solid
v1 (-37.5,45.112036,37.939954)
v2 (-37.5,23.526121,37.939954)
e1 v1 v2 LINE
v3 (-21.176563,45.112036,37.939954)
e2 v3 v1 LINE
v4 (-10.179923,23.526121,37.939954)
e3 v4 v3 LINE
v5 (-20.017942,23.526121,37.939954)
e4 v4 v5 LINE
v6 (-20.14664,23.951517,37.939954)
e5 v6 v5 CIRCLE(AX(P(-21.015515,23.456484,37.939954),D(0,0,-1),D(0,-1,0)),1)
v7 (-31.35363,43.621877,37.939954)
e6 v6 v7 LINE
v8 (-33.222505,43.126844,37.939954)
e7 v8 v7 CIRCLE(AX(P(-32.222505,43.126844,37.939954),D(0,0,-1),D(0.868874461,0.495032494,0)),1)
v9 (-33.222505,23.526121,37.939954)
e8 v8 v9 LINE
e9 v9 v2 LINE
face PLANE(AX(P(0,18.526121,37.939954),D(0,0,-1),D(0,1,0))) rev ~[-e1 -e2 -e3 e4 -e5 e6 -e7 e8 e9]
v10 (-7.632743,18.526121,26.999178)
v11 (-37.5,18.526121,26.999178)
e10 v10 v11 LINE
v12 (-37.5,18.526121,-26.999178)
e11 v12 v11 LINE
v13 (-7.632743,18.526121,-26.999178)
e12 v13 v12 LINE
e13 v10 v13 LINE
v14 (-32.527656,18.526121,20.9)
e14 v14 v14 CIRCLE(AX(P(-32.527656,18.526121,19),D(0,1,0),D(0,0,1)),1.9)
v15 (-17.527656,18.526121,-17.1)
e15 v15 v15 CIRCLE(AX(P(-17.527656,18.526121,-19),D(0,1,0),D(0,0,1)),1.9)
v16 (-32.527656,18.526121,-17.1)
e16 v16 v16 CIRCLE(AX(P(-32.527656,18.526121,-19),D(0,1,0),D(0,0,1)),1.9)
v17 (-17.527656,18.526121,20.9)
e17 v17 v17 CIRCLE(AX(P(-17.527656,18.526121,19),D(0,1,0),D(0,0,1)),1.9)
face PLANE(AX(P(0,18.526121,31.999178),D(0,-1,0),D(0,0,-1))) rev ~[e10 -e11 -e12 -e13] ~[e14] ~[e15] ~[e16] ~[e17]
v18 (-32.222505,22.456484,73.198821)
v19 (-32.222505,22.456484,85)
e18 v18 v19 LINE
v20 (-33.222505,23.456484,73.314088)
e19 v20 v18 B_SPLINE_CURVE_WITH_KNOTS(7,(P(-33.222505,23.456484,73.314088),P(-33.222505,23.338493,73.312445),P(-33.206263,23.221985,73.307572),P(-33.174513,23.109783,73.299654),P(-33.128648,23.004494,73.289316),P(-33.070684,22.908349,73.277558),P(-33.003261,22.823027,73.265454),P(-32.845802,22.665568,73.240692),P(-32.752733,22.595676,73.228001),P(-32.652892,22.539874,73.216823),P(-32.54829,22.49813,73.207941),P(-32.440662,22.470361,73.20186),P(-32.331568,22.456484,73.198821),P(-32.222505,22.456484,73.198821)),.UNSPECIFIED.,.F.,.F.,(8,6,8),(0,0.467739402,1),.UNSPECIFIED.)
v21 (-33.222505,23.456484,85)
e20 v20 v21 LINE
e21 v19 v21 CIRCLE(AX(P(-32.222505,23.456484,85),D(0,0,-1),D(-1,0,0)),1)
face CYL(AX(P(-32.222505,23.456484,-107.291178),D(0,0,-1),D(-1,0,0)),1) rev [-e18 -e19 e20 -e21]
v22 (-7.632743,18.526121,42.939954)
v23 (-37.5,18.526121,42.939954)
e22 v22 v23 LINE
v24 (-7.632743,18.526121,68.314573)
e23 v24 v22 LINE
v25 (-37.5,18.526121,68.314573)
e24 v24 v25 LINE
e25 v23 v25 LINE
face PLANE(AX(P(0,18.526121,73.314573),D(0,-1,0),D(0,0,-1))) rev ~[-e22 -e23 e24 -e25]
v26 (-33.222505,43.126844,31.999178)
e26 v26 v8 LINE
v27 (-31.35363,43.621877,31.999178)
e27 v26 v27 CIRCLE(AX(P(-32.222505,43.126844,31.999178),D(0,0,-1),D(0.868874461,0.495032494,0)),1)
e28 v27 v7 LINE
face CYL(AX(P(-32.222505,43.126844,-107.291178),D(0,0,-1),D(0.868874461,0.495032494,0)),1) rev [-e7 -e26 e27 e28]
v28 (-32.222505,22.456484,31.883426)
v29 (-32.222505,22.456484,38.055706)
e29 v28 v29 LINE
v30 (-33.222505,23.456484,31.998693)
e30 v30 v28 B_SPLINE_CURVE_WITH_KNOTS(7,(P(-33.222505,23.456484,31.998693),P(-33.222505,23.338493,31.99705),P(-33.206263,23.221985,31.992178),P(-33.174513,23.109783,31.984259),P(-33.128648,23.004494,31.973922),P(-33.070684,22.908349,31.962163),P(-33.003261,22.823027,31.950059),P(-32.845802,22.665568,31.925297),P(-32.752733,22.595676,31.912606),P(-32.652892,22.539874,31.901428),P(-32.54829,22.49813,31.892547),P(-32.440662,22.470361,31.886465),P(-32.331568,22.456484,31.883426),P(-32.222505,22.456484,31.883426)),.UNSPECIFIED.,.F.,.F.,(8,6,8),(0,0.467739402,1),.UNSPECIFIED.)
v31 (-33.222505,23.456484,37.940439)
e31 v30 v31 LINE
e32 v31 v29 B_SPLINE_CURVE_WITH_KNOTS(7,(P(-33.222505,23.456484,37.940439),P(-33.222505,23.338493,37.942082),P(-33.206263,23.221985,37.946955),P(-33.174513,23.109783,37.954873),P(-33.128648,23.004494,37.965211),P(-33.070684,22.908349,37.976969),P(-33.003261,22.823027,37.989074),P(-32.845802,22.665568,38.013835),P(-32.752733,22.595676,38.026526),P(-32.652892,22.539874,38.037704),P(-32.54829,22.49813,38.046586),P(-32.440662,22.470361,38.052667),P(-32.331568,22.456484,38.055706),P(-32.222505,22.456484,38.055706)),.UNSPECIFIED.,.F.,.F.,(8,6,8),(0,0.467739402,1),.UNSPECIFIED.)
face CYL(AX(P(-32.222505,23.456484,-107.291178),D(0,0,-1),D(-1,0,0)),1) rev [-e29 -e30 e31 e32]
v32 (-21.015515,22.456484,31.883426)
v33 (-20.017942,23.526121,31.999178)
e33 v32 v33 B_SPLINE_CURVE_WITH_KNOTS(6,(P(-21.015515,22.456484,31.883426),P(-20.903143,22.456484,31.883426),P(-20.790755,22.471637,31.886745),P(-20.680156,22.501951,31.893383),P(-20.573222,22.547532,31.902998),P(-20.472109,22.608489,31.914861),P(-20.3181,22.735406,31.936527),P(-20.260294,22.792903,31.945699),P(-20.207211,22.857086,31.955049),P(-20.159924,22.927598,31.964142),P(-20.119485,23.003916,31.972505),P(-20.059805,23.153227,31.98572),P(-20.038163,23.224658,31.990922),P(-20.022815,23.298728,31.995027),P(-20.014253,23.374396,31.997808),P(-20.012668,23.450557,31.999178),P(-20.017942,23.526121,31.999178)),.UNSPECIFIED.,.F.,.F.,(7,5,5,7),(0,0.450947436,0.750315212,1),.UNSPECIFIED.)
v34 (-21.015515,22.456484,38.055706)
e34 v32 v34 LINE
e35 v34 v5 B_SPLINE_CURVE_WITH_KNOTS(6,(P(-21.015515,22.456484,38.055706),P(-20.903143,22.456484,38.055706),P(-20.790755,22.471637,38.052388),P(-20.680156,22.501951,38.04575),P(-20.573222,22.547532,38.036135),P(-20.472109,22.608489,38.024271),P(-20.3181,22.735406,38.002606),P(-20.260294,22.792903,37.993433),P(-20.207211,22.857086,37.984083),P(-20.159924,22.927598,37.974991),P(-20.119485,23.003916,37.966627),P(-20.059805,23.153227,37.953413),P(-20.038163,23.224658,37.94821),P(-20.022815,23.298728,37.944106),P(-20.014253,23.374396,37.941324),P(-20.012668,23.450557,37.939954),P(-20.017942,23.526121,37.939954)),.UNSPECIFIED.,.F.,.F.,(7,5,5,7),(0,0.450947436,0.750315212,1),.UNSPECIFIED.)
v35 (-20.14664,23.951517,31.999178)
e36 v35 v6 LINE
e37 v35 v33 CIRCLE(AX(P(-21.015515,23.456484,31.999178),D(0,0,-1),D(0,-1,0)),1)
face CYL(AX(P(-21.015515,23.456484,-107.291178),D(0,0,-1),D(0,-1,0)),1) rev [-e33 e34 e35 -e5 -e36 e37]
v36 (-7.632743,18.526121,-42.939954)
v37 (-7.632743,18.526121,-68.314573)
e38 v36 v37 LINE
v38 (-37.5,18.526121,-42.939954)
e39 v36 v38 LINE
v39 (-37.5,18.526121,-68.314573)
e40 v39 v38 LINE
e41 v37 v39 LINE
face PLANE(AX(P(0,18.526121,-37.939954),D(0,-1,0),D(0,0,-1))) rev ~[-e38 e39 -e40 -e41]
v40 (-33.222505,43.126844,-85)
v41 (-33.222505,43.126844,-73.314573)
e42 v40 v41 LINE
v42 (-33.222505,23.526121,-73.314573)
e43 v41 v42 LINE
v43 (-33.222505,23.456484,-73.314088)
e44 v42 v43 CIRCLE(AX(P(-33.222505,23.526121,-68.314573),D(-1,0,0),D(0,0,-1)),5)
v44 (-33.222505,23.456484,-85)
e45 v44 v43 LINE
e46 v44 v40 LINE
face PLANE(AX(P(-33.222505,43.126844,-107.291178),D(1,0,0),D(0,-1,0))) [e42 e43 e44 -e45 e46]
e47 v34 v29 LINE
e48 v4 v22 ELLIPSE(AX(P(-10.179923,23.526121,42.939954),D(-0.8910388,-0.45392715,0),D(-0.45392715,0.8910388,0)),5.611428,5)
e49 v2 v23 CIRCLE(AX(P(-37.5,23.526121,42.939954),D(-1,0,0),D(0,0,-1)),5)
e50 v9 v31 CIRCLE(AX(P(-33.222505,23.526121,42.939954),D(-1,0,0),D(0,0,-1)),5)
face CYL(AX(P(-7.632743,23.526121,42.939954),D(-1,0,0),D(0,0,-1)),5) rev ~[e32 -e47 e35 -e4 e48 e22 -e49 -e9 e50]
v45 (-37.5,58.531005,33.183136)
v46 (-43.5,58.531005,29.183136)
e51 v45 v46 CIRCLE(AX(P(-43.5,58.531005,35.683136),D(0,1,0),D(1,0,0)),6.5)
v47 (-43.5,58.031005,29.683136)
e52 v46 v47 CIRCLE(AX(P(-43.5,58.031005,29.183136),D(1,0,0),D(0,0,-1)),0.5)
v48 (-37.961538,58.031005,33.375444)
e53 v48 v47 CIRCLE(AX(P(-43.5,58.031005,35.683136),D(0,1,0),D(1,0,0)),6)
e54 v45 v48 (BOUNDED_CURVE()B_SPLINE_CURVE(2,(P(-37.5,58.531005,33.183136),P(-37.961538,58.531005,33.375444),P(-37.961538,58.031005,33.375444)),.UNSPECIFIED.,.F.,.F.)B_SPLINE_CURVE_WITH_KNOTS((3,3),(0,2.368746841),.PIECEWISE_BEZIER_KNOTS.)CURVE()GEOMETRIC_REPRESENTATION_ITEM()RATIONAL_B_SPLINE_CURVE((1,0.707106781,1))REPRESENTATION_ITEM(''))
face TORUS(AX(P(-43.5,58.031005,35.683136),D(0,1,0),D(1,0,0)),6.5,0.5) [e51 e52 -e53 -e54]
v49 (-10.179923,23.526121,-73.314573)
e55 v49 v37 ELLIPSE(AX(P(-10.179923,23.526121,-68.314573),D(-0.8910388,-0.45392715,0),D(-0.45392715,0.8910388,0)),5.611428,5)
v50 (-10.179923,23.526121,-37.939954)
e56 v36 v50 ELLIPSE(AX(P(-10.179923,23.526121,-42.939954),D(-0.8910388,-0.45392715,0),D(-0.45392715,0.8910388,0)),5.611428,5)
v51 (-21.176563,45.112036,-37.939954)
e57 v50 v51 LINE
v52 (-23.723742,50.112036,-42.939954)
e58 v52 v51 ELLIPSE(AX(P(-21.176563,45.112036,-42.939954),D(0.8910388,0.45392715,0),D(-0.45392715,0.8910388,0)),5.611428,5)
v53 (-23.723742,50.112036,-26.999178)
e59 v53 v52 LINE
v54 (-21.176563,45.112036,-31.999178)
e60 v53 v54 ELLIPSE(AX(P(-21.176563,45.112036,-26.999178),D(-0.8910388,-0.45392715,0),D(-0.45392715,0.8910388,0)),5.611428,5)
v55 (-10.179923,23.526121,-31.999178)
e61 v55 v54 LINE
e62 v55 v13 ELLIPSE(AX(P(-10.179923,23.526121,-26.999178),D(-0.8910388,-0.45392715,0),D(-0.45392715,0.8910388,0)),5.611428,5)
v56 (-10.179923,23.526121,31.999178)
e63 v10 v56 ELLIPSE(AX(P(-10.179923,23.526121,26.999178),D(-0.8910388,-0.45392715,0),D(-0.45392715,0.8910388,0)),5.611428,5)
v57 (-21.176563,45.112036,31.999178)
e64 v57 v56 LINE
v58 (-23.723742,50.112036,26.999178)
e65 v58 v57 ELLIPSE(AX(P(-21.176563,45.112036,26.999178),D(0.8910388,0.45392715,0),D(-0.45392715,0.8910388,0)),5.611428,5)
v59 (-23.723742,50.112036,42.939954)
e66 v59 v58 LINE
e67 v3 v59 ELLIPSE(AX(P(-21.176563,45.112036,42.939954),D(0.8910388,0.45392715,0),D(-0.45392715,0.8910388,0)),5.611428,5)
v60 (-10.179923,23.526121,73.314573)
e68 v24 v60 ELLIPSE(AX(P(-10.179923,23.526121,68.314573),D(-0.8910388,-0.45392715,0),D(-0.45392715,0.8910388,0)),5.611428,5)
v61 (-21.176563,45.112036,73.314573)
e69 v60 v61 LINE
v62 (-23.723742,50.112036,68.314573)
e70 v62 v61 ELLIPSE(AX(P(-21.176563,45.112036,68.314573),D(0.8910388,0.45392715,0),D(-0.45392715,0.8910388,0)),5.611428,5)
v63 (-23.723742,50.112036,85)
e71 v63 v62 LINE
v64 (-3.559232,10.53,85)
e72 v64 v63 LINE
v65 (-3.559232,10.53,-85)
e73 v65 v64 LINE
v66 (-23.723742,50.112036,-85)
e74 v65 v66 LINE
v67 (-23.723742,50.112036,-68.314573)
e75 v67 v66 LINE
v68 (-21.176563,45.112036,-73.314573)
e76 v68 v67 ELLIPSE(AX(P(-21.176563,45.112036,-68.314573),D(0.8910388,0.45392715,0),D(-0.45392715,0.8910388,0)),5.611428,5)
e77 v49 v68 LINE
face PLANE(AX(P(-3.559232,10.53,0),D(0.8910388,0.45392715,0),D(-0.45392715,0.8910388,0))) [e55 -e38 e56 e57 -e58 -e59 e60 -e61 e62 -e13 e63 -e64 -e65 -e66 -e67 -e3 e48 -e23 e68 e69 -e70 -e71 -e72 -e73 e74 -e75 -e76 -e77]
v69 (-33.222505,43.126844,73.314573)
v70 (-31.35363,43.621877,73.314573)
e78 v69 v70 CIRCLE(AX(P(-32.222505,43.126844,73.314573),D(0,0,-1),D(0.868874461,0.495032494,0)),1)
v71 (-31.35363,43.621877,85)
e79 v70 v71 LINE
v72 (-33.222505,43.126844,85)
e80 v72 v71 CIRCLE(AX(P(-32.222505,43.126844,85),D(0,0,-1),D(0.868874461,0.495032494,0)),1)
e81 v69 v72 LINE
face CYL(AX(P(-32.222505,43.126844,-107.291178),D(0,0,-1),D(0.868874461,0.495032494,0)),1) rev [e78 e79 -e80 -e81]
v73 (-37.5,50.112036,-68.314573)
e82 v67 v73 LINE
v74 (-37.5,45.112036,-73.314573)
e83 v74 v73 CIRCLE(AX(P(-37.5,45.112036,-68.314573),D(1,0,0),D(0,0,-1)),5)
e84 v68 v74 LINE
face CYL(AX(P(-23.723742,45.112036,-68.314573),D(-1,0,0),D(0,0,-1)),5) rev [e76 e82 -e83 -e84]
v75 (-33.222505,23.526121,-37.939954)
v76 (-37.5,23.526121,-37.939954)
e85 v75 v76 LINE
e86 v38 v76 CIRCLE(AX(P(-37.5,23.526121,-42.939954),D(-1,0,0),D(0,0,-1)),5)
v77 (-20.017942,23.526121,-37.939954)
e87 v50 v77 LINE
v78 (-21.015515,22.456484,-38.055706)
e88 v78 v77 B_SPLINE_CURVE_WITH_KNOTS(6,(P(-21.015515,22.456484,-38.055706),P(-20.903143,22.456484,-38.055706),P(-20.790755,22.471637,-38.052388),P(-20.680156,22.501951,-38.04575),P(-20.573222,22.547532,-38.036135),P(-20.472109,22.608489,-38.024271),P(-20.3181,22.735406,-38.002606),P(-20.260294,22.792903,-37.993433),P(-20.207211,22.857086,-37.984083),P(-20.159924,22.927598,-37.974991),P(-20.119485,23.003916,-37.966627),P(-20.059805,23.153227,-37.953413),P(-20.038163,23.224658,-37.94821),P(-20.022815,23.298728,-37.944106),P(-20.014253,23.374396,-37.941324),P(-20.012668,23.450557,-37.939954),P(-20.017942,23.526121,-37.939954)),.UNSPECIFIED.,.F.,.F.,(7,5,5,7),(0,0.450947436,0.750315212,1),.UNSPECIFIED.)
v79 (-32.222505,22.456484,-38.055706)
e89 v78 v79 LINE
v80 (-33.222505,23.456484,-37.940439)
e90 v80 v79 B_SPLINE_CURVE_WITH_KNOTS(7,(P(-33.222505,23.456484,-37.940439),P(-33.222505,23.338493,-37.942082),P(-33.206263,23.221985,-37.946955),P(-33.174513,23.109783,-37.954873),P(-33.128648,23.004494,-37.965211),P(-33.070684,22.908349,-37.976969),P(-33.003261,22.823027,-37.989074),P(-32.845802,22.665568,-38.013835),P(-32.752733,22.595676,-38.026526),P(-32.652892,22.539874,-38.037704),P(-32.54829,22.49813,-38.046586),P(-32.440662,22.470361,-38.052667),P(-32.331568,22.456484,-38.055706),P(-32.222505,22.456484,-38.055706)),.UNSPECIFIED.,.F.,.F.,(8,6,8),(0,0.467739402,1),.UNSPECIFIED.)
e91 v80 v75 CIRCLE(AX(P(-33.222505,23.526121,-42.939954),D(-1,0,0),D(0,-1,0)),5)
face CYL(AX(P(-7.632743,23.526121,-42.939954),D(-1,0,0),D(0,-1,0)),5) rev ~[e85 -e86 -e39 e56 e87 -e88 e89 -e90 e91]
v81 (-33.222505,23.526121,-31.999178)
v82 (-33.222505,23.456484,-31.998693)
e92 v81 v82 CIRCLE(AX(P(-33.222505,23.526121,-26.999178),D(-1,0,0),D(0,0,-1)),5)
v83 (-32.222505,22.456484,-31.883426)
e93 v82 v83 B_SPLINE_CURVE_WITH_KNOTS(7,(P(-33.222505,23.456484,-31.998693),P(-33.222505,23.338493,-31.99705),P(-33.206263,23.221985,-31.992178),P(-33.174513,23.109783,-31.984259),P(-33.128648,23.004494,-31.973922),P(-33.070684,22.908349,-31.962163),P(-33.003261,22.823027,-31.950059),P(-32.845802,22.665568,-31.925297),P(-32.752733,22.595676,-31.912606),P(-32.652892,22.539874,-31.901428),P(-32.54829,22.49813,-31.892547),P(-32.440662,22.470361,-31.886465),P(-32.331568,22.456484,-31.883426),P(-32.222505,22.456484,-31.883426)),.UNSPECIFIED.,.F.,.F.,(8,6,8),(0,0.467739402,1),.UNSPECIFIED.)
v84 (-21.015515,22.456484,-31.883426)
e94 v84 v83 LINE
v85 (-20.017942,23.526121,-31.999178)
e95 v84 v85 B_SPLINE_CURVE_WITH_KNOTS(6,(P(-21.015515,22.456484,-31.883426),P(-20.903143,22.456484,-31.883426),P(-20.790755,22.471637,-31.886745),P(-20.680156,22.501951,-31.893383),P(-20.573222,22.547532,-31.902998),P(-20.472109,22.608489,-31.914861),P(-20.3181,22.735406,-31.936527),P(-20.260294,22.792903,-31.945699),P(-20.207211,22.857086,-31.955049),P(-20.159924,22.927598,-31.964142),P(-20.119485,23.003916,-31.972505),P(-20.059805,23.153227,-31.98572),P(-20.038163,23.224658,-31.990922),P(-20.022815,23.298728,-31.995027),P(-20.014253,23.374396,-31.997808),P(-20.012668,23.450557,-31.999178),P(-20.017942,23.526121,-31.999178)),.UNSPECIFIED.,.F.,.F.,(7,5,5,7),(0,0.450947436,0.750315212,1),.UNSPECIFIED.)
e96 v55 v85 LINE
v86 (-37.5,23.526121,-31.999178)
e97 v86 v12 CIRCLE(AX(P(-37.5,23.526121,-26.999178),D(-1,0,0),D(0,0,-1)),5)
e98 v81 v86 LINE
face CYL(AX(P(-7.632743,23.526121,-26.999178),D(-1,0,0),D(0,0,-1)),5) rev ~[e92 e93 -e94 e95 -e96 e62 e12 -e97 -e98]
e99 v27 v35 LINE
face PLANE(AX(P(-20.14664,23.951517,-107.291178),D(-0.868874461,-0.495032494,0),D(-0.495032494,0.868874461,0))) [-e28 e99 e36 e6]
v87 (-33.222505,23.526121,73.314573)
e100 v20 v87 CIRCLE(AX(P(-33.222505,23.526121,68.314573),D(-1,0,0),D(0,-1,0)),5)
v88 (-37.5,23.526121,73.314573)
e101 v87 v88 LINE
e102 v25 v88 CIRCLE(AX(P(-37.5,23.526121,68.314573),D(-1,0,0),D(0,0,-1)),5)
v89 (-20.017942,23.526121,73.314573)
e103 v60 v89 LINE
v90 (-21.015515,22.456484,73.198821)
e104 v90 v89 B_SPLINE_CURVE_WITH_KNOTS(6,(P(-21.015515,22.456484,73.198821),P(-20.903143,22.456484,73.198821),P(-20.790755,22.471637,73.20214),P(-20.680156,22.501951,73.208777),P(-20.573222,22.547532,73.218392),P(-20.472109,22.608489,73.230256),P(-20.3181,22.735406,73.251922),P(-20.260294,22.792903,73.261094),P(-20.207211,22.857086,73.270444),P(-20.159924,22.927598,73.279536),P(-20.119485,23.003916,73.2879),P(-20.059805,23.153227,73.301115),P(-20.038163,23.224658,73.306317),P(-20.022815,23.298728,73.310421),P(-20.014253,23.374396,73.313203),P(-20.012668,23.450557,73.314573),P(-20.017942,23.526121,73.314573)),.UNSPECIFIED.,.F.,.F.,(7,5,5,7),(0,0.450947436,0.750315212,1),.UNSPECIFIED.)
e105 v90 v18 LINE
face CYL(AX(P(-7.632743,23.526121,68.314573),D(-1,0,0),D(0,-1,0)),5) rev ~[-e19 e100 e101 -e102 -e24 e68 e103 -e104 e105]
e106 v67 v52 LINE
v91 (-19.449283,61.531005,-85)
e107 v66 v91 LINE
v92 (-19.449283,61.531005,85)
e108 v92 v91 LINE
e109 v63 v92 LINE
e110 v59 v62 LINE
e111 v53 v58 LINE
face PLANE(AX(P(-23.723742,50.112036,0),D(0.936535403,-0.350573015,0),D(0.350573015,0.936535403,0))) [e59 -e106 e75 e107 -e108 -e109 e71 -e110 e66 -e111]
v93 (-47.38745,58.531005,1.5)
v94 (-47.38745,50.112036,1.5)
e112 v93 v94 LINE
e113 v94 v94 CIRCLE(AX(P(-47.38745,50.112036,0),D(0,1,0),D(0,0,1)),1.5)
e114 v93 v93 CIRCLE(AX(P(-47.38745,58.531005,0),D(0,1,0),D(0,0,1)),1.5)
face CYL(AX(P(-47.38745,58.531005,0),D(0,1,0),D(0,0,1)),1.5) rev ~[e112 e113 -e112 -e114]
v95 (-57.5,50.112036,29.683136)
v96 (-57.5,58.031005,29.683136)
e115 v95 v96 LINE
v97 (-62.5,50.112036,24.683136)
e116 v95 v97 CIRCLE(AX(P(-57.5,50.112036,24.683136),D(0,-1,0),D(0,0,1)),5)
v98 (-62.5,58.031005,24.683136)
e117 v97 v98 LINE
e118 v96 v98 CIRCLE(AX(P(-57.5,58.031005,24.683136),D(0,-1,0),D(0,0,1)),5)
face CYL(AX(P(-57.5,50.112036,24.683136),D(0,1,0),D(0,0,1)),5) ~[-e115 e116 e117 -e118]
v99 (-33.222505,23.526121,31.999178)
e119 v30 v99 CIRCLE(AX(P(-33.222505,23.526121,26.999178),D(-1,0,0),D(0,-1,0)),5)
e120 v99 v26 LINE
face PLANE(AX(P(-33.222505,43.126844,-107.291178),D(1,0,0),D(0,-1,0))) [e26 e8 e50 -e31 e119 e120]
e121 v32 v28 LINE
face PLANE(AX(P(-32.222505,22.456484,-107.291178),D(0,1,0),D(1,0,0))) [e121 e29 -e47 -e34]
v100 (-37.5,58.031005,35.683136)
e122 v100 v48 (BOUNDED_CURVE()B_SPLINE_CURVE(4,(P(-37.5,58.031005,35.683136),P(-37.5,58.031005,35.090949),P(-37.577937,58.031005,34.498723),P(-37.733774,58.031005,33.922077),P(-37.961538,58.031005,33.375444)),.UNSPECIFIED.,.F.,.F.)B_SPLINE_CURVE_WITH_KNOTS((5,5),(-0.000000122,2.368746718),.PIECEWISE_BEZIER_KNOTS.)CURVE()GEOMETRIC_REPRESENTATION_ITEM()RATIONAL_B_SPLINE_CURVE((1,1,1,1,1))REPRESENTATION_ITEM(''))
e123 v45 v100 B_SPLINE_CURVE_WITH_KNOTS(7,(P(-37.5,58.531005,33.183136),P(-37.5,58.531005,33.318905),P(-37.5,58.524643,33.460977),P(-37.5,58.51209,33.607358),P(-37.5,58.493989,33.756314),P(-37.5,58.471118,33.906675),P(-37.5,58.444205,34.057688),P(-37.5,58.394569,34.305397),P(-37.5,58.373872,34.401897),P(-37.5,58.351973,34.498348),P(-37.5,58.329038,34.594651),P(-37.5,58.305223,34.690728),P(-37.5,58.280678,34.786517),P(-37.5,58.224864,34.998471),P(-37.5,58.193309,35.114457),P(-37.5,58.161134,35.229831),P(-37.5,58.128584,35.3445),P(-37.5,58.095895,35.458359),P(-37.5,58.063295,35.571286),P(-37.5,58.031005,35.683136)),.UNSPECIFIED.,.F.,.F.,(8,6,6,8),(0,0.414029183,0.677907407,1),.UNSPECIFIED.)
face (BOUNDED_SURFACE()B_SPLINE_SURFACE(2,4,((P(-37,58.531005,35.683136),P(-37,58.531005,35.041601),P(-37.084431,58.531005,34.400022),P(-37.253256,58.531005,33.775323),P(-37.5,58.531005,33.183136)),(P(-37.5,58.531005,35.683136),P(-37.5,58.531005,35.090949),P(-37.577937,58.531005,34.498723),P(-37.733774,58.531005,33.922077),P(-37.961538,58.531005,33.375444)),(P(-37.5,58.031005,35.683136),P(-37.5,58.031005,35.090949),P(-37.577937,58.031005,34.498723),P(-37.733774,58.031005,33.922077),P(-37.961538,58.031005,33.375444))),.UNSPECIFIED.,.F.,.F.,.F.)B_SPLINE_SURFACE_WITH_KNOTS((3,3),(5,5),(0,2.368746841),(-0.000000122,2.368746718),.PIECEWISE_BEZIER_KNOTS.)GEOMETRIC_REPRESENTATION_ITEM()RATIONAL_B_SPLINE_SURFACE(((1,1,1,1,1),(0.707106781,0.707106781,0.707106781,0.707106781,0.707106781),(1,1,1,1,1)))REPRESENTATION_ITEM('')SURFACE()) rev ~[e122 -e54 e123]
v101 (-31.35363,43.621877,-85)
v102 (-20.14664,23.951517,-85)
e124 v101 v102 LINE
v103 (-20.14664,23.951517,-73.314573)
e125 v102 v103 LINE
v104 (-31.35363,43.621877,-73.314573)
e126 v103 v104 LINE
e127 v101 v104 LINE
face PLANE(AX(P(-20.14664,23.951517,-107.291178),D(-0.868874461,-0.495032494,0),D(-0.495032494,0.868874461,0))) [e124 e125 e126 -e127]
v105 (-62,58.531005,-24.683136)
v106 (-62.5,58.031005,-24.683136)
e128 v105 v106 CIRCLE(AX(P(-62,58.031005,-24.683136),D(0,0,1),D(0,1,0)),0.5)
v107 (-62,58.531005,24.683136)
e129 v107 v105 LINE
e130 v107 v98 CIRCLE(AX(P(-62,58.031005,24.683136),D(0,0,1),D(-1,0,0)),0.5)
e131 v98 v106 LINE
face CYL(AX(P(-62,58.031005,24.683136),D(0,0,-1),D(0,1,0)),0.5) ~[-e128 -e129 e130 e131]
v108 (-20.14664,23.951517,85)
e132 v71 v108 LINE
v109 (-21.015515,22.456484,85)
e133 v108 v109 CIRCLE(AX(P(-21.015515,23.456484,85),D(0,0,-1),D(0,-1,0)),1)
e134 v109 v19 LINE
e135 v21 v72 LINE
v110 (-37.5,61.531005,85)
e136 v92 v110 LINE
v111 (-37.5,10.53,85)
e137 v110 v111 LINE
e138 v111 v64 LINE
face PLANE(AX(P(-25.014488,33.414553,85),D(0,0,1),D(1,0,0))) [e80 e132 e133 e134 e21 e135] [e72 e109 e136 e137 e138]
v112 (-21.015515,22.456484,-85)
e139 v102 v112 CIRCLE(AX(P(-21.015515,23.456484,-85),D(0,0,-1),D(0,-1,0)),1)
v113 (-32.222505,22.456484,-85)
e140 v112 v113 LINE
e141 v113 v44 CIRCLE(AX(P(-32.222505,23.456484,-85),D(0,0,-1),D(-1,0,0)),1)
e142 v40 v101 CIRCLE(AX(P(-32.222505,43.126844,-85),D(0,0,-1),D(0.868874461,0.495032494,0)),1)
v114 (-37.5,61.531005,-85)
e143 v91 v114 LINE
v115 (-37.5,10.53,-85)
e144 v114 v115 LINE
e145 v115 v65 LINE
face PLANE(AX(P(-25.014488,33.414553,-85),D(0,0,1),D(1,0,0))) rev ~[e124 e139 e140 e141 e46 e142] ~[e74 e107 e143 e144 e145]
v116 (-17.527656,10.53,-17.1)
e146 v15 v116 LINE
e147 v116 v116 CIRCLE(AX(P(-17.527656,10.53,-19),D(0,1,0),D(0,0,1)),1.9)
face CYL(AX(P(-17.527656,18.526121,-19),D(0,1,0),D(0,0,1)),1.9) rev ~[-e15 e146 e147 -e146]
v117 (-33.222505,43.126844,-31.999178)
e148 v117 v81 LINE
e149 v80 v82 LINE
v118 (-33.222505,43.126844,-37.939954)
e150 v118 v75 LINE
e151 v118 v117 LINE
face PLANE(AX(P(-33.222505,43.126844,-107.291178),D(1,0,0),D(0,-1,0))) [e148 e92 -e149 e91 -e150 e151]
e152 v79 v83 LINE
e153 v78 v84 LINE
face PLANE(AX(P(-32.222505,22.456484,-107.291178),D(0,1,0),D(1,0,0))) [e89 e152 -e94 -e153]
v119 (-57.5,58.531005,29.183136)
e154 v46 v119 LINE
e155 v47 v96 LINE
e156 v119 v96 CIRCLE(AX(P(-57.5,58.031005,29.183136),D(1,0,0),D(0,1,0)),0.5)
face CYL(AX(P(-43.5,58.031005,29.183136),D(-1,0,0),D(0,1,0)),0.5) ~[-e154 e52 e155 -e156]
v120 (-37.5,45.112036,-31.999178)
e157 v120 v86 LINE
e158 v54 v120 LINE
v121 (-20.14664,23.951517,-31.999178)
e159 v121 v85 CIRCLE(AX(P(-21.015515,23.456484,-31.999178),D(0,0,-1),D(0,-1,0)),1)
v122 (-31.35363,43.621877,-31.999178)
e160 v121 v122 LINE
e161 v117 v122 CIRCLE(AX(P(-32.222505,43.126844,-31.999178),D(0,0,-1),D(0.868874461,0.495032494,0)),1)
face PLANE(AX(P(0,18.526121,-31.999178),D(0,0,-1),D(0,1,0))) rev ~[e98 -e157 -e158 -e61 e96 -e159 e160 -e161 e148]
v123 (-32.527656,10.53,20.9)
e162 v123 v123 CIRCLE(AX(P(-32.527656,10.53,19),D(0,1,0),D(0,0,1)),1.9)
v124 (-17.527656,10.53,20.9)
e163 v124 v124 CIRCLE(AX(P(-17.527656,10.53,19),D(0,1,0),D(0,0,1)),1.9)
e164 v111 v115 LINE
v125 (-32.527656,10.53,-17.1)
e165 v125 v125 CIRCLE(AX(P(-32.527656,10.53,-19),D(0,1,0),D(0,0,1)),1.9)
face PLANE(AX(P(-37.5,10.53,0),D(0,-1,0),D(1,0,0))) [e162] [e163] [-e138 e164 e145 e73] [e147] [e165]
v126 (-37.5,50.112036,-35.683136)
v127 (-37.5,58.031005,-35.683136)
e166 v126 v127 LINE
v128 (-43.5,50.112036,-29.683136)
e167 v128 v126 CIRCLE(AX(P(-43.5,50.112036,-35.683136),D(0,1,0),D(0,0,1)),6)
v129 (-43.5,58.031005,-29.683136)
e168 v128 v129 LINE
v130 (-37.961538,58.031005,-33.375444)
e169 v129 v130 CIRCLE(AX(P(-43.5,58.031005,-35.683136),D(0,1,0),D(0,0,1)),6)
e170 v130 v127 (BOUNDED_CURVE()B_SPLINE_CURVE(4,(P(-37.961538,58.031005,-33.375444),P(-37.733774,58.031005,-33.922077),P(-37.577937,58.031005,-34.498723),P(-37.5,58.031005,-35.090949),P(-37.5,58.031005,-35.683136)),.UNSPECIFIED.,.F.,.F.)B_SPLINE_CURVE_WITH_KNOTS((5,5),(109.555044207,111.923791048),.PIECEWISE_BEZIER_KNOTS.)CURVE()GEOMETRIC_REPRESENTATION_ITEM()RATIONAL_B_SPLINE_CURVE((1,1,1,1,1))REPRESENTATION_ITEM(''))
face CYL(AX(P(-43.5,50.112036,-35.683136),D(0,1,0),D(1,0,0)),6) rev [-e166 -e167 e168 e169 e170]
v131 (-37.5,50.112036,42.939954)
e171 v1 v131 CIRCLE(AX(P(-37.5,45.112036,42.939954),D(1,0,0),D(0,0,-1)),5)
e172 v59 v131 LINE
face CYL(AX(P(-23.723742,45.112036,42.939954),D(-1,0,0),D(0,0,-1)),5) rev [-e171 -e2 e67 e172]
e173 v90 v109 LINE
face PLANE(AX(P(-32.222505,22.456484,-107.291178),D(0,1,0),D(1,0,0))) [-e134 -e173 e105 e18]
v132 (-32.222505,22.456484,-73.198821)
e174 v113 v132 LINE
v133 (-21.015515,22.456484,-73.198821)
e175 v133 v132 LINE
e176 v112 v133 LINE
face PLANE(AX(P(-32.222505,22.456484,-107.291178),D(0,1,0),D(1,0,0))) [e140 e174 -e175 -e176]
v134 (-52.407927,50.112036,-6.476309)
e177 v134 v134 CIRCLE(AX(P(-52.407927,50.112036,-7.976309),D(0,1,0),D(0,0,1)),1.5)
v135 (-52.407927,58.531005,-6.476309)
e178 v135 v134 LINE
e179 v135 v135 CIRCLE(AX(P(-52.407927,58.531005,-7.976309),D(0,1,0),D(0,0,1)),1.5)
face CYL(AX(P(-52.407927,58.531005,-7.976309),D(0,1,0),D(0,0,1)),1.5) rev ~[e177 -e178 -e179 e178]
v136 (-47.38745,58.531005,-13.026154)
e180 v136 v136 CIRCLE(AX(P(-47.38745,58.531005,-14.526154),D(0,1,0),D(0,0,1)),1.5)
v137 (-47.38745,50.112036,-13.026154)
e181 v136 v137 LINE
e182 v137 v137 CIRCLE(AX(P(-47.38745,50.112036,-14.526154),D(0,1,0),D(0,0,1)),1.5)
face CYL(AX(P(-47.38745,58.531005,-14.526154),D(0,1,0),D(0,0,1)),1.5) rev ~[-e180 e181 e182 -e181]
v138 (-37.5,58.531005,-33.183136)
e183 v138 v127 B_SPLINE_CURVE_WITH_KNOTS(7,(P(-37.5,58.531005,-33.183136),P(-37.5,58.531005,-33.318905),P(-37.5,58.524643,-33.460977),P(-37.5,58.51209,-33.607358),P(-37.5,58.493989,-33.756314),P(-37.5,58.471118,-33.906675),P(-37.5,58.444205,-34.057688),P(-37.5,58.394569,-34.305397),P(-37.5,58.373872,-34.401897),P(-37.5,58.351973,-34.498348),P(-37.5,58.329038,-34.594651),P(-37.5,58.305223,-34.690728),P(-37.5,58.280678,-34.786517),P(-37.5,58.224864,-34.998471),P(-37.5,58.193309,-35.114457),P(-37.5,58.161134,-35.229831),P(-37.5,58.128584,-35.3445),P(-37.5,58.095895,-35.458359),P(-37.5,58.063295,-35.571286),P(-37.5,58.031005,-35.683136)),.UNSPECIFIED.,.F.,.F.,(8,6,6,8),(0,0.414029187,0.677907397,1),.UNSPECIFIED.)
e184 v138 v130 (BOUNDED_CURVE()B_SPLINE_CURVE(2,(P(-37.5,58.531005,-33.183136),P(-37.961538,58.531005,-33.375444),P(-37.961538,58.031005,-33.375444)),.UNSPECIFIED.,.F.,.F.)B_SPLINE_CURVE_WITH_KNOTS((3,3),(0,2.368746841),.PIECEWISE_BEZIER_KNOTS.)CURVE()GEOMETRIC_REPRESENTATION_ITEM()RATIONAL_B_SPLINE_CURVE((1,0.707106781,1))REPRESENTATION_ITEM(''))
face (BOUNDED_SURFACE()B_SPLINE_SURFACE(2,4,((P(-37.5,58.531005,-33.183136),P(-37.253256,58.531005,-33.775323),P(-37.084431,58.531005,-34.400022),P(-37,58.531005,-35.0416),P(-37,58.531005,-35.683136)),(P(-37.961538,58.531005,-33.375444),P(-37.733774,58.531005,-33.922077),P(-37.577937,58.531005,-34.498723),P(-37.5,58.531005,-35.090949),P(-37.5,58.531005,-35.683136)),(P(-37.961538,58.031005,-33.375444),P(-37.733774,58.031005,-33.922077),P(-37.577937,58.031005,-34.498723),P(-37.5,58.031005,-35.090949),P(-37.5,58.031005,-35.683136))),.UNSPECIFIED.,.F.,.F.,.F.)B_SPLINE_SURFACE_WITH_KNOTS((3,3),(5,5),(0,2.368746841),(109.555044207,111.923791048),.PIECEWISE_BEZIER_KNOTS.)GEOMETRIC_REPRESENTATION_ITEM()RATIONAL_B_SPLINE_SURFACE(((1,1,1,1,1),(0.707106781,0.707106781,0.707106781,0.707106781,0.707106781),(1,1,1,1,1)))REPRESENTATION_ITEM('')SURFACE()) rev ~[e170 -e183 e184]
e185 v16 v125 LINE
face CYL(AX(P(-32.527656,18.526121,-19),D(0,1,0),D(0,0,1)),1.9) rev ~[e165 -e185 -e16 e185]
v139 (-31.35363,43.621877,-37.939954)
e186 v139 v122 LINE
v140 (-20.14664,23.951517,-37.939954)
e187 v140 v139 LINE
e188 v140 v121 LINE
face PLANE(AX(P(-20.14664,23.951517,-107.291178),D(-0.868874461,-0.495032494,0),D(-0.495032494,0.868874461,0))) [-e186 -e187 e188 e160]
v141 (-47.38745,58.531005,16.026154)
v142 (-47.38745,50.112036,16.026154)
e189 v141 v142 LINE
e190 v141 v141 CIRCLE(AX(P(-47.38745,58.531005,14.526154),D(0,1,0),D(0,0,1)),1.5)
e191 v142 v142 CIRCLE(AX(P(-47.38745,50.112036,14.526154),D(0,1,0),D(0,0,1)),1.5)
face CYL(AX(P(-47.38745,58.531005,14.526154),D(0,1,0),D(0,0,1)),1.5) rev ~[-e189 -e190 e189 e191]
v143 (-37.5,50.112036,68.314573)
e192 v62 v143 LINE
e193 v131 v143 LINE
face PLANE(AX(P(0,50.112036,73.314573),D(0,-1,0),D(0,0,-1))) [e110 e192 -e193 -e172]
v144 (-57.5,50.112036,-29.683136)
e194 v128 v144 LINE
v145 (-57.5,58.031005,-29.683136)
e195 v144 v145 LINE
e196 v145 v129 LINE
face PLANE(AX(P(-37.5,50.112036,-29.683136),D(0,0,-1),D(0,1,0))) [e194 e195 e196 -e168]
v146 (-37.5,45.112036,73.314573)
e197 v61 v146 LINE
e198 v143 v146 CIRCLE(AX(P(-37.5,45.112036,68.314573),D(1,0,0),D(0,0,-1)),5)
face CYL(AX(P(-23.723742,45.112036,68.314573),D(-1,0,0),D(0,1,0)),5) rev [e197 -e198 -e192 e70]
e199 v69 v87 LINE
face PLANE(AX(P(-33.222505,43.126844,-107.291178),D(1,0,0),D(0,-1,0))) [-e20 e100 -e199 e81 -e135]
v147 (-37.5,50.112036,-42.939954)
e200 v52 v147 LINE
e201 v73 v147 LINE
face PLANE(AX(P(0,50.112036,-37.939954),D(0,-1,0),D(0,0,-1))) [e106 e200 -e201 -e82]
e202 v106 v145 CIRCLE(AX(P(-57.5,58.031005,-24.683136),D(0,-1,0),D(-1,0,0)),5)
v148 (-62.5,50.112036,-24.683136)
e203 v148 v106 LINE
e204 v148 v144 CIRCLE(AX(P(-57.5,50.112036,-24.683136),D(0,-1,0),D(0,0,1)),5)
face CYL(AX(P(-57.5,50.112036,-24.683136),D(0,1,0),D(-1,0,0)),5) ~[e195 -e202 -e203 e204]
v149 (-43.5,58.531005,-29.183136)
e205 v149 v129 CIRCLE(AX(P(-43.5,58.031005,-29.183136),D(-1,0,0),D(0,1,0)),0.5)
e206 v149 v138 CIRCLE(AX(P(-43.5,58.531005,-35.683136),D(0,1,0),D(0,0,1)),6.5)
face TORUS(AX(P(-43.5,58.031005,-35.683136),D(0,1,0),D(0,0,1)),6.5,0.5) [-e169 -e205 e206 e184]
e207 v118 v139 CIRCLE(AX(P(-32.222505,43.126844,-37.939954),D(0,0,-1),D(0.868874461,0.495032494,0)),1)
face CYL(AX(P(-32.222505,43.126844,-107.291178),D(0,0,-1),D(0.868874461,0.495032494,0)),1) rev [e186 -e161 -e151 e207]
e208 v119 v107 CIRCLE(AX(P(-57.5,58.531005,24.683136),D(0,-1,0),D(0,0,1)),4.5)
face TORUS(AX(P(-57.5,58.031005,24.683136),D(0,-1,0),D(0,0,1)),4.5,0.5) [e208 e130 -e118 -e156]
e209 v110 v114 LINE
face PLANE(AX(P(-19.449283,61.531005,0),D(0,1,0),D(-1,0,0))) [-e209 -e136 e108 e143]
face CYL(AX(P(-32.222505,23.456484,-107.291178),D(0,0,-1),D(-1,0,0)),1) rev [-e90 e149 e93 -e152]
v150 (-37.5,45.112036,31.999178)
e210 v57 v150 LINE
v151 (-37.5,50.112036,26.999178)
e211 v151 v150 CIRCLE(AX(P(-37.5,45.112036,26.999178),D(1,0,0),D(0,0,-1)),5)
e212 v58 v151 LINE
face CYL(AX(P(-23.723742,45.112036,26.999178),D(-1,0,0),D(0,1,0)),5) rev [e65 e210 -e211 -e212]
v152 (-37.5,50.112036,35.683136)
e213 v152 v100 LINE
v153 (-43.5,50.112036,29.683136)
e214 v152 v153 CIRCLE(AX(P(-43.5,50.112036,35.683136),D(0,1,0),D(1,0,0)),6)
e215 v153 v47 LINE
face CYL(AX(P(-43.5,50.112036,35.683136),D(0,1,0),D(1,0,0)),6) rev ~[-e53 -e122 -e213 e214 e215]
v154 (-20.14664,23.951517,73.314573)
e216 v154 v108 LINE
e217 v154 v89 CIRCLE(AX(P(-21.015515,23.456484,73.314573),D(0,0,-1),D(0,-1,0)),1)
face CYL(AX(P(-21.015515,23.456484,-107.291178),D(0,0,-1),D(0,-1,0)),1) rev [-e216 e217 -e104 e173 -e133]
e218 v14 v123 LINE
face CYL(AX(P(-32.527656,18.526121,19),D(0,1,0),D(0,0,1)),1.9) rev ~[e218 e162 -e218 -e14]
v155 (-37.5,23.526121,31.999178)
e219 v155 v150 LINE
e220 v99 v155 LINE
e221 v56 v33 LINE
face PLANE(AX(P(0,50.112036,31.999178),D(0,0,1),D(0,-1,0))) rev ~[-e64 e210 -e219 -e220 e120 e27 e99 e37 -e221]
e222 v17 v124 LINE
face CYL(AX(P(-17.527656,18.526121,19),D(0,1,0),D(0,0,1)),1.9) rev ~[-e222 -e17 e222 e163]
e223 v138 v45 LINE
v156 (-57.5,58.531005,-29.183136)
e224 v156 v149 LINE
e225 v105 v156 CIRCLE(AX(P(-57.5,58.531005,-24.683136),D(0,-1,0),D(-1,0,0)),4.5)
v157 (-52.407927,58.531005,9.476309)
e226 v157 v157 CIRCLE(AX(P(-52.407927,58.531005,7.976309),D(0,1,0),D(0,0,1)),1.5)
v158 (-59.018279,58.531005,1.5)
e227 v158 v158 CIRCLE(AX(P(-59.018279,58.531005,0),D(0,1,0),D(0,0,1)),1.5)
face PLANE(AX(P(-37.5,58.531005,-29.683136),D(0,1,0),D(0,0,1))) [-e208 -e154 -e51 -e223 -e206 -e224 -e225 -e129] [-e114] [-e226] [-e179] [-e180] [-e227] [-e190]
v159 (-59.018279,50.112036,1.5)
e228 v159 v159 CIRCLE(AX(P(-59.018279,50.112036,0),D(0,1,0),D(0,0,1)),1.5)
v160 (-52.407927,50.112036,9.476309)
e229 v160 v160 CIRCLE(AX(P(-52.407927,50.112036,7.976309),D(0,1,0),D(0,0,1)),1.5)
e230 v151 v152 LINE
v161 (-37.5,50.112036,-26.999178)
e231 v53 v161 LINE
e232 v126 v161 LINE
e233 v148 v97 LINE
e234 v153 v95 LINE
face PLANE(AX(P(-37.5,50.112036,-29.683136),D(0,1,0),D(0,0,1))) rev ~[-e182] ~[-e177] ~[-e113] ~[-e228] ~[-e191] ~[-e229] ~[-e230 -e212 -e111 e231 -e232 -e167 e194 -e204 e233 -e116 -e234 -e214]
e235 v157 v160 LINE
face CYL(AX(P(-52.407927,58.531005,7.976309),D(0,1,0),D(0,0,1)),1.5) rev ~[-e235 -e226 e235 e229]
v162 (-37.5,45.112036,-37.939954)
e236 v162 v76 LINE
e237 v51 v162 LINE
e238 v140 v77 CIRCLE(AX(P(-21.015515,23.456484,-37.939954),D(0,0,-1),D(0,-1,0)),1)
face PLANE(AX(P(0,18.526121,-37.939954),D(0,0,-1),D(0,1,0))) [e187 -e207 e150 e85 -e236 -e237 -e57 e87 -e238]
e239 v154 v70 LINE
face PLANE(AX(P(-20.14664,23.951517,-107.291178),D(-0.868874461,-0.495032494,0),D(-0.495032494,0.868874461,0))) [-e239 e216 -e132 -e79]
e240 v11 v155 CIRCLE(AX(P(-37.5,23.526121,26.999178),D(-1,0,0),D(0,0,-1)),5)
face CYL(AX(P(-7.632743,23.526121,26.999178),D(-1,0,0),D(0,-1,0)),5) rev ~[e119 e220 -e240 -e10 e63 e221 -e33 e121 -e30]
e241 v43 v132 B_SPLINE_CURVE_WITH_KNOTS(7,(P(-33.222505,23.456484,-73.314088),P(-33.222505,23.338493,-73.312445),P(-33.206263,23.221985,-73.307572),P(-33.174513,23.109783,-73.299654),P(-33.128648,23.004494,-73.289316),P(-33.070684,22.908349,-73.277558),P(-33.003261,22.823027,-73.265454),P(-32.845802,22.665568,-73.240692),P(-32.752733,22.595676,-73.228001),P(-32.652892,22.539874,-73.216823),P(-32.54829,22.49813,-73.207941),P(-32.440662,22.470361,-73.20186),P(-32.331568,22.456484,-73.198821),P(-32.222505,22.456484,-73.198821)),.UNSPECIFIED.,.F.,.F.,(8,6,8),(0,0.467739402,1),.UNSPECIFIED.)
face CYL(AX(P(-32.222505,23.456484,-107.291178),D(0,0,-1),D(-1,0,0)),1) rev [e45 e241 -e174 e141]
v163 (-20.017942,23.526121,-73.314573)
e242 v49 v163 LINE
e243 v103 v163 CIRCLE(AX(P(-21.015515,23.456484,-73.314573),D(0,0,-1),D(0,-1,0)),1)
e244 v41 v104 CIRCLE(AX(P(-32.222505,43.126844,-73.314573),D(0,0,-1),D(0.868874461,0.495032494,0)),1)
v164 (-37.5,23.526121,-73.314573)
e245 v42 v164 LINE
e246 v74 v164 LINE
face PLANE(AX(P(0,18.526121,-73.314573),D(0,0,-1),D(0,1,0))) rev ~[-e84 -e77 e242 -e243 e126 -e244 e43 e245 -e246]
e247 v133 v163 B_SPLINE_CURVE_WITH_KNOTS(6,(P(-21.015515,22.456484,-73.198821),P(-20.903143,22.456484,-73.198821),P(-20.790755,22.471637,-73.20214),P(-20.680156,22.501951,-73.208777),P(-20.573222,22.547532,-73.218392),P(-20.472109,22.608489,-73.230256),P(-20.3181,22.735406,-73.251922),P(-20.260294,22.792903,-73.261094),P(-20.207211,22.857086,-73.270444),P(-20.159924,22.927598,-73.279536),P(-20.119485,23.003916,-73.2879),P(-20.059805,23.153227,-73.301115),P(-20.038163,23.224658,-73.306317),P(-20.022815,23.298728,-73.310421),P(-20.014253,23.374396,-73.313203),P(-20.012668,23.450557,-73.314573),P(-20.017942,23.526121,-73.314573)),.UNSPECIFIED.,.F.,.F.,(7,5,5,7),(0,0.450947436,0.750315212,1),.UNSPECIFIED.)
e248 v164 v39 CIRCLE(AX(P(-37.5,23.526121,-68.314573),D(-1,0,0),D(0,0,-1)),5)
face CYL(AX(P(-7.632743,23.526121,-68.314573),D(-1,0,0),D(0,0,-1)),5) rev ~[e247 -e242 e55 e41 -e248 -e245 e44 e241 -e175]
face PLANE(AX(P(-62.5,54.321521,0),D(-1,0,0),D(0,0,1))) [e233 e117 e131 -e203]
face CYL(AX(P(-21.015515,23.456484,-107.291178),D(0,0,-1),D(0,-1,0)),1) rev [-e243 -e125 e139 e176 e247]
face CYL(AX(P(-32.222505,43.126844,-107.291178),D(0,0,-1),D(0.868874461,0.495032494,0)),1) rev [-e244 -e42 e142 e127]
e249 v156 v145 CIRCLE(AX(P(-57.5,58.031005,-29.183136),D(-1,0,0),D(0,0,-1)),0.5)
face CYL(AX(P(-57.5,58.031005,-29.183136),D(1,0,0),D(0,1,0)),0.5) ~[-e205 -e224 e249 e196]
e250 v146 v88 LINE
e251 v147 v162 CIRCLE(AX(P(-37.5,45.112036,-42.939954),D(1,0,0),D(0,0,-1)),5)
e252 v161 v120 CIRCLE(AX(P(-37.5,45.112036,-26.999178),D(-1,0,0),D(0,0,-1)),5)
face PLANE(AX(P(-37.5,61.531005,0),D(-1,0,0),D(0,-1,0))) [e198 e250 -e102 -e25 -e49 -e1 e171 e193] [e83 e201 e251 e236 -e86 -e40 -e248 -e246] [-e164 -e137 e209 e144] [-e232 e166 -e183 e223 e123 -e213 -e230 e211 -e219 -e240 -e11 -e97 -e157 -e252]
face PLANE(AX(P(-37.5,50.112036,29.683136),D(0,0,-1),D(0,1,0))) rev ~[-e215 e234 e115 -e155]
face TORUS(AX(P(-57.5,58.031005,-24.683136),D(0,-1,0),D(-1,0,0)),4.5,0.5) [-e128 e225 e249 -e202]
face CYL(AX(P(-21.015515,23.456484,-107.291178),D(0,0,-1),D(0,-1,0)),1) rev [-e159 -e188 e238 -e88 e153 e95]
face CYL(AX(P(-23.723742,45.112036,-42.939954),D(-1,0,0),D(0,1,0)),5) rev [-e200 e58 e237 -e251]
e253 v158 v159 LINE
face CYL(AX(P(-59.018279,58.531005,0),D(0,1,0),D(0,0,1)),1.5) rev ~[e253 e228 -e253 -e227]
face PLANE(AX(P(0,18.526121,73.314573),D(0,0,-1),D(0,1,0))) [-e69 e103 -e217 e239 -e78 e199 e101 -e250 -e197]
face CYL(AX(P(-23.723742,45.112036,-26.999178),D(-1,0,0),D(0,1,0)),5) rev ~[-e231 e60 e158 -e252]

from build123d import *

# Parameters (mm, degrees)
EXTRUDE_1_DEPTH          = 85
SKETCH_2_W               = 59.36627173602581
SKETCH_2_H               = 8.418969471425655
EXTRUDE_2_DEPTH          = 25
FILLET_1_R               = 6
FILLET_2_R               = 5
CUT_EXTRUDE_1_REACH      = 117.911
SKETCH_4_R               = 1.499999999999997
SKETCH_7_W               = 35.37461908353682
SKETCH_7_H               = 31.585915090625495
CUT_EXTRUDE_2_DEPTH      = 123.13645897424483
FILLET_3_R               = 5
FILLET_4_R               = 0.5
CUT_EXTRUDE_3_DEPTH      = 192.29117767705227
CUT_EXTRUDE_3_DEPTH_BACK = 192.29117767705227
SKETCH_9_R               = 1.8999999999999981
CUT_EXTRUDE_4_DEPTH      = 27.999999999999996


with BuildPart() as part:
    # 草图1 → 凸台-拉伸1 (new, symmetric)
    with BuildSketch(Plane.XY):
        Polygon((-37.5, 10.529999999999998), (-3.5592322501332707, 10.529999999999998), (-8.298471778986107, 19.8329163418583), (-23.723742156818243, 50.11203580857437), (-19.449282757937613, 61.53100528), (-37.5, 61.53100528), align=None)
    extrude(amount=EXTRUDE_1_DEPTH, both=True)

    # 草图2 → 凸台-拉伸2 (add)
    with BuildSketch(Plane.ZY.offset(37.5)):
        with Locations((0, 54.32152054428719)):
            Rectangle(SKETCH_2_W, SKETCH_2_H)
    extrude(amount=EXTRUDE_2_DEPTH)

    # 圆角1
    fillet_1_edges = [part.edges().sort_by_distance(p)[0] for p in [
        (-37.5, 54.32152054428719, -29.683135868012904),
        (-37.5, 54.32152054428719, 29.683135868012904),
    ]]
    fillet(fillet_1_edges, radius=FILLET_1_R)

    # 圆角2
    fillet_2_edges = [part.edges().sort_by_distance(p)[0] for p in [
        (-62.5, 54.32152054428719, -29.683135868012904),
        (-62.5, 54.32152054428719, 29.683135868012904),
    ]]
    fillet(fillet_2_edges, radius=FILLET_2_R)

    # 草图4 → 切除-拉伸1 (cut, up to next)
    with BuildSketch(Plane(origin=(0, 58.53100528000001, 0), x_dir=(1, 0, 0), z_dir=(0, 1, 0)), mode=Mode.PRIVATE) as cut_extrude_1_sk1:
        with Locations(Location((-47.387450092880144, 14.526154223892442, 0), (0, 0, 270))):
            Circle(SKETCH_4_R)
    cut_extrude_1_tool1 = extrude(cut_extrude_1_sk1.sketch, amount=-CUT_EXTRUDE_1_REACH, mode=Mode.PRIVATE) & part.part
    # 草图4 → 切除-拉伸1 (cut, up to next)
    with BuildSketch(Plane(origin=(0, 58.53100528000001, 0), x_dir=(1, 0, 0), z_dir=(0, 1, 0)), mode=Mode.PRIVATE) as cut_extrude_1_sk2:
        with Locations(Location((-52.407927387117596, 7.976309366063233, 0), (0, 0, 270))):
            Circle(SKETCH_4_R)
    cut_extrude_1_tool2 = extrude(cut_extrude_1_sk2.sketch, amount=-CUT_EXTRUDE_1_REACH, mode=Mode.PRIVATE) & part.part
    # 草图4 → 切除-拉伸1 (cut, up to next)
    with BuildSketch(Plane(origin=(0, 58.53100528000001, 0), x_dir=(1, 0, 0), z_dir=(0, 1, 0)), mode=Mode.PRIVATE) as cut_extrude_1_sk3:
        with Locations(Location((-59.01827910600927, -2.429e-14, 0), (0, 0, 270))):
            Circle(SKETCH_4_R)
    cut_extrude_1_tool3 = extrude(cut_extrude_1_sk3.sketch, amount=-CUT_EXTRUDE_1_REACH, mode=Mode.PRIVATE) & part.part
    # 草图4 → 切除-拉伸1 (cut, up to next)
    with BuildSketch(Plane(origin=(0, 58.53100528000001, 0), x_dir=(1, 0, 0), z_dir=(0, 1, 0)), mode=Mode.PRIVATE) as cut_extrude_1_sk4:
        with Locations(Location((-47.387450092880144, -2.456e-14, 0), (0, 0, 270))):
            Circle(SKETCH_4_R)
    cut_extrude_1_tool4 = extrude(cut_extrude_1_sk4.sketch, amount=-CUT_EXTRUDE_1_REACH, mode=Mode.PRIVATE) & part.part
    # 草图4 → 切除-拉伸1 (cut, up to next)
    with BuildSketch(Plane(origin=(0, 58.53100528000001, 0), x_dir=(1, 0, 0), z_dir=(0, 1, 0)), mode=Mode.PRIVATE) as cut_extrude_1_sk5:
        with Locations(Location((-52.407927387117596, -7.976309366063282, 0), (0, 0, 270))):
            Circle(SKETCH_4_R)
    cut_extrude_1_tool5 = extrude(cut_extrude_1_sk5.sketch, amount=-CUT_EXTRUDE_1_REACH, mode=Mode.PRIVATE) & part.part
    # 草图4 → 切除-拉伸1 (cut, up to next)
    with BuildSketch(Plane(origin=(0, 58.53100528000001, 0), x_dir=(1, 0, 0), z_dir=(0, 1, 0)), mode=Mode.PRIVATE) as cut_extrude_1_sk6:
        with Locations(Location((-47.387450092880144, -14.52615422389249, 0), (0, 0, 270))):
            Circle(SKETCH_4_R)
    cut_extrude_1_tool6 = extrude(cut_extrude_1_sk6.sketch, amount=-CUT_EXTRUDE_1_REACH, mode=Mode.PRIVATE) & part.part
    add(cut_extrude_1_tool1.solids().sort_by_distance((-47.38745, 58.531005, -14.526154))[0], mode=Mode.SUBTRACT)
    add(cut_extrude_1_tool2.solids().sort_by_distance((-52.407927, 58.531005, -7.976309))[0], mode=Mode.SUBTRACT)
    add(cut_extrude_1_tool3.solids().sort_by_distance((-59.018279, 58.531005, 0))[0], mode=Mode.SUBTRACT)
    add(cut_extrude_1_tool4.solids().sort_by_distance((-47.38745, 58.531005, 0))[0], mode=Mode.SUBTRACT)
    add(cut_extrude_1_tool5.solids().sort_by_distance((-52.407927, 58.531005, 7.976309))[0], mode=Mode.SUBTRACT)
    add(cut_extrude_1_tool6.solids().sort_by_distance((-47.38745, 58.531005, 14.526154))[0], mode=Mode.SUBTRACT)

    # 草图7 → 切除-拉伸2 (cut, through all)
    with BuildSketch(Plane(origin=(0, 0, 0), x_dir=(0, 0, -1), z_dir=(1, 0, 0))):
        Polygon((31.999178331290963, 50.11203580857436), (-31.999178331290963, 50.11203580857436), (-31.999178331290956, 18.526120717948867), (31.999178331290956, 18.526120717948867), align=None)
        with Locations((55.6272635970121, 34.319078263261616)):
            Rectangle(SKETCH_7_W, SKETCH_7_H)
        with Locations((-55.6272635970121, 34.319078263261616)):
            Rectangle(SKETCH_7_W, SKETCH_7_H)
    extrude(amount=-CUT_EXTRUDE_2_DEPTH, mode=Mode.SUBTRACT)

    # 圆角3
    fillet_3_edges = [part.edges().sort_by_distance(p)[0] for p in [
        (-22.56637158923609, 18.526120717948867, -37.939954055243696),
        (-30.611871078409123, 50.11203580857436, -73.31457313878052),
        (-22.56637158923609, 18.526120717948867, -73.31457313878052),
        (-30.611871078409123, 50.11203580857437, -37.939954055243696),
        (-30.611871078409123, 50.11203580857437, 37.939954055243696),
        (-22.56637158923609, 18.526120717948867, 37.939954055243696),
        (-22.56637158923609, 18.526120717948867, 73.31457313878052),
        (-30.611871078409123, 50.11203580857436, 73.31457313878052),
        (-22.56637158923609, 18.526120717948867, -31.999178331290956),
        (-30.611871078409123, 50.11203580857436, -31.999178331290963),
        (-22.56637158923609, 18.526120717948867, 31.999178331290956),
        (-30.611871078409123, 50.11203580857436, 31.999178331290963),
    ]]
    fillet(fillet_3_edges, radius=FILLET_3_R)

    # 圆角4
    fillet_4_edges = [part.edges().sort_by_distance(p)[0] for p in [
        (-39.257359312880716, 58.53100528000001, 31.44049518089362),
        (-39.257359312880716, 58.53100528000001, -31.44049518089362),
        (-62.5, 58.53100528000001, 0),
        (-50.5, 58.53100528000001, -29.683135868012904),
        (-50.5, 58.53100528000001, 29.683135868012904),
        (-61.03553390593274, 58.53100528000001, -28.218669773945642),
        (-61.03553390593274, 58.53100528000001, 28.218669773945642),
    ]]
    fillet(fillet_4_edges, radius=FILLET_4_R)

    # 草图8 → 切除-拉伸3 (cut, two sides: drawn at the far end of the back side and taken through both)
    with BuildSketch(Plane.XY.offset(85).offset(-CUT_EXTRUDE_3_DEPTH_BACK)):
        with BuildLine():
            Line((-32.222504901358434, 22.456484131426393), (-21.015514746320488, 22.456484131426393))
            ThreePointArc((-21.015514746320488, 22.456484131426393), (-20.15092452706273, 22.954006517234653), (-20.146640285068184, 23.951516625898744))
            Line((-20.146640285068184, 23.951516625898744), (-31.353630440106134, 43.6218769395131))
            ThreePointArc((-31.353630440106134, 43.6218769395131), (-32.47855717995374, 44.09350738041489), (-33.222504901358434, 43.12684444504075))
            Line((-33.222504901358434, 43.12684444504075), (-33.222504901358434, 23.456484131426393))
            ThreePointArc((-33.222504901358434, 23.456484131426393), (-32.92961168254498, 22.749377350239847), (-32.222504901358434, 22.456484131426393))
        make_face()
    extrude(amount=CUT_EXTRUDE_3_DEPTH + CUT_EXTRUDE_3_DEPTH_BACK, mode=Mode.SUBTRACT)

    # 草图9 → 切除-拉伸4 (cut)
    with BuildSketch(Plane(origin=(0, 18.526120717948867, 0), x_dir=(1, 0, 0), z_dir=(0, 1, 0))):
        with Locations(Location((-32.52765590256421, -19, 0), (0, 0, 270))):
            Circle(SKETCH_9_R)
        with Locations(Location((-32.52765590256421, 19, 0), (0, 0, 270))):
            Circle(SKETCH_9_R)
        with Locations(Location((-17.527655902564213, 19, 0), (0, 0, 270))):
            Circle(SKETCH_9_R)
        with Locations(Location((-17.527655902564213, -19, 0), (0, 0, 270))):
            Circle(SKETCH_9_R)
    extrude(amount=-CUT_EXTRUDE_4_DEPTH, mode=Mode.SUBTRACT)


solid = part.part
